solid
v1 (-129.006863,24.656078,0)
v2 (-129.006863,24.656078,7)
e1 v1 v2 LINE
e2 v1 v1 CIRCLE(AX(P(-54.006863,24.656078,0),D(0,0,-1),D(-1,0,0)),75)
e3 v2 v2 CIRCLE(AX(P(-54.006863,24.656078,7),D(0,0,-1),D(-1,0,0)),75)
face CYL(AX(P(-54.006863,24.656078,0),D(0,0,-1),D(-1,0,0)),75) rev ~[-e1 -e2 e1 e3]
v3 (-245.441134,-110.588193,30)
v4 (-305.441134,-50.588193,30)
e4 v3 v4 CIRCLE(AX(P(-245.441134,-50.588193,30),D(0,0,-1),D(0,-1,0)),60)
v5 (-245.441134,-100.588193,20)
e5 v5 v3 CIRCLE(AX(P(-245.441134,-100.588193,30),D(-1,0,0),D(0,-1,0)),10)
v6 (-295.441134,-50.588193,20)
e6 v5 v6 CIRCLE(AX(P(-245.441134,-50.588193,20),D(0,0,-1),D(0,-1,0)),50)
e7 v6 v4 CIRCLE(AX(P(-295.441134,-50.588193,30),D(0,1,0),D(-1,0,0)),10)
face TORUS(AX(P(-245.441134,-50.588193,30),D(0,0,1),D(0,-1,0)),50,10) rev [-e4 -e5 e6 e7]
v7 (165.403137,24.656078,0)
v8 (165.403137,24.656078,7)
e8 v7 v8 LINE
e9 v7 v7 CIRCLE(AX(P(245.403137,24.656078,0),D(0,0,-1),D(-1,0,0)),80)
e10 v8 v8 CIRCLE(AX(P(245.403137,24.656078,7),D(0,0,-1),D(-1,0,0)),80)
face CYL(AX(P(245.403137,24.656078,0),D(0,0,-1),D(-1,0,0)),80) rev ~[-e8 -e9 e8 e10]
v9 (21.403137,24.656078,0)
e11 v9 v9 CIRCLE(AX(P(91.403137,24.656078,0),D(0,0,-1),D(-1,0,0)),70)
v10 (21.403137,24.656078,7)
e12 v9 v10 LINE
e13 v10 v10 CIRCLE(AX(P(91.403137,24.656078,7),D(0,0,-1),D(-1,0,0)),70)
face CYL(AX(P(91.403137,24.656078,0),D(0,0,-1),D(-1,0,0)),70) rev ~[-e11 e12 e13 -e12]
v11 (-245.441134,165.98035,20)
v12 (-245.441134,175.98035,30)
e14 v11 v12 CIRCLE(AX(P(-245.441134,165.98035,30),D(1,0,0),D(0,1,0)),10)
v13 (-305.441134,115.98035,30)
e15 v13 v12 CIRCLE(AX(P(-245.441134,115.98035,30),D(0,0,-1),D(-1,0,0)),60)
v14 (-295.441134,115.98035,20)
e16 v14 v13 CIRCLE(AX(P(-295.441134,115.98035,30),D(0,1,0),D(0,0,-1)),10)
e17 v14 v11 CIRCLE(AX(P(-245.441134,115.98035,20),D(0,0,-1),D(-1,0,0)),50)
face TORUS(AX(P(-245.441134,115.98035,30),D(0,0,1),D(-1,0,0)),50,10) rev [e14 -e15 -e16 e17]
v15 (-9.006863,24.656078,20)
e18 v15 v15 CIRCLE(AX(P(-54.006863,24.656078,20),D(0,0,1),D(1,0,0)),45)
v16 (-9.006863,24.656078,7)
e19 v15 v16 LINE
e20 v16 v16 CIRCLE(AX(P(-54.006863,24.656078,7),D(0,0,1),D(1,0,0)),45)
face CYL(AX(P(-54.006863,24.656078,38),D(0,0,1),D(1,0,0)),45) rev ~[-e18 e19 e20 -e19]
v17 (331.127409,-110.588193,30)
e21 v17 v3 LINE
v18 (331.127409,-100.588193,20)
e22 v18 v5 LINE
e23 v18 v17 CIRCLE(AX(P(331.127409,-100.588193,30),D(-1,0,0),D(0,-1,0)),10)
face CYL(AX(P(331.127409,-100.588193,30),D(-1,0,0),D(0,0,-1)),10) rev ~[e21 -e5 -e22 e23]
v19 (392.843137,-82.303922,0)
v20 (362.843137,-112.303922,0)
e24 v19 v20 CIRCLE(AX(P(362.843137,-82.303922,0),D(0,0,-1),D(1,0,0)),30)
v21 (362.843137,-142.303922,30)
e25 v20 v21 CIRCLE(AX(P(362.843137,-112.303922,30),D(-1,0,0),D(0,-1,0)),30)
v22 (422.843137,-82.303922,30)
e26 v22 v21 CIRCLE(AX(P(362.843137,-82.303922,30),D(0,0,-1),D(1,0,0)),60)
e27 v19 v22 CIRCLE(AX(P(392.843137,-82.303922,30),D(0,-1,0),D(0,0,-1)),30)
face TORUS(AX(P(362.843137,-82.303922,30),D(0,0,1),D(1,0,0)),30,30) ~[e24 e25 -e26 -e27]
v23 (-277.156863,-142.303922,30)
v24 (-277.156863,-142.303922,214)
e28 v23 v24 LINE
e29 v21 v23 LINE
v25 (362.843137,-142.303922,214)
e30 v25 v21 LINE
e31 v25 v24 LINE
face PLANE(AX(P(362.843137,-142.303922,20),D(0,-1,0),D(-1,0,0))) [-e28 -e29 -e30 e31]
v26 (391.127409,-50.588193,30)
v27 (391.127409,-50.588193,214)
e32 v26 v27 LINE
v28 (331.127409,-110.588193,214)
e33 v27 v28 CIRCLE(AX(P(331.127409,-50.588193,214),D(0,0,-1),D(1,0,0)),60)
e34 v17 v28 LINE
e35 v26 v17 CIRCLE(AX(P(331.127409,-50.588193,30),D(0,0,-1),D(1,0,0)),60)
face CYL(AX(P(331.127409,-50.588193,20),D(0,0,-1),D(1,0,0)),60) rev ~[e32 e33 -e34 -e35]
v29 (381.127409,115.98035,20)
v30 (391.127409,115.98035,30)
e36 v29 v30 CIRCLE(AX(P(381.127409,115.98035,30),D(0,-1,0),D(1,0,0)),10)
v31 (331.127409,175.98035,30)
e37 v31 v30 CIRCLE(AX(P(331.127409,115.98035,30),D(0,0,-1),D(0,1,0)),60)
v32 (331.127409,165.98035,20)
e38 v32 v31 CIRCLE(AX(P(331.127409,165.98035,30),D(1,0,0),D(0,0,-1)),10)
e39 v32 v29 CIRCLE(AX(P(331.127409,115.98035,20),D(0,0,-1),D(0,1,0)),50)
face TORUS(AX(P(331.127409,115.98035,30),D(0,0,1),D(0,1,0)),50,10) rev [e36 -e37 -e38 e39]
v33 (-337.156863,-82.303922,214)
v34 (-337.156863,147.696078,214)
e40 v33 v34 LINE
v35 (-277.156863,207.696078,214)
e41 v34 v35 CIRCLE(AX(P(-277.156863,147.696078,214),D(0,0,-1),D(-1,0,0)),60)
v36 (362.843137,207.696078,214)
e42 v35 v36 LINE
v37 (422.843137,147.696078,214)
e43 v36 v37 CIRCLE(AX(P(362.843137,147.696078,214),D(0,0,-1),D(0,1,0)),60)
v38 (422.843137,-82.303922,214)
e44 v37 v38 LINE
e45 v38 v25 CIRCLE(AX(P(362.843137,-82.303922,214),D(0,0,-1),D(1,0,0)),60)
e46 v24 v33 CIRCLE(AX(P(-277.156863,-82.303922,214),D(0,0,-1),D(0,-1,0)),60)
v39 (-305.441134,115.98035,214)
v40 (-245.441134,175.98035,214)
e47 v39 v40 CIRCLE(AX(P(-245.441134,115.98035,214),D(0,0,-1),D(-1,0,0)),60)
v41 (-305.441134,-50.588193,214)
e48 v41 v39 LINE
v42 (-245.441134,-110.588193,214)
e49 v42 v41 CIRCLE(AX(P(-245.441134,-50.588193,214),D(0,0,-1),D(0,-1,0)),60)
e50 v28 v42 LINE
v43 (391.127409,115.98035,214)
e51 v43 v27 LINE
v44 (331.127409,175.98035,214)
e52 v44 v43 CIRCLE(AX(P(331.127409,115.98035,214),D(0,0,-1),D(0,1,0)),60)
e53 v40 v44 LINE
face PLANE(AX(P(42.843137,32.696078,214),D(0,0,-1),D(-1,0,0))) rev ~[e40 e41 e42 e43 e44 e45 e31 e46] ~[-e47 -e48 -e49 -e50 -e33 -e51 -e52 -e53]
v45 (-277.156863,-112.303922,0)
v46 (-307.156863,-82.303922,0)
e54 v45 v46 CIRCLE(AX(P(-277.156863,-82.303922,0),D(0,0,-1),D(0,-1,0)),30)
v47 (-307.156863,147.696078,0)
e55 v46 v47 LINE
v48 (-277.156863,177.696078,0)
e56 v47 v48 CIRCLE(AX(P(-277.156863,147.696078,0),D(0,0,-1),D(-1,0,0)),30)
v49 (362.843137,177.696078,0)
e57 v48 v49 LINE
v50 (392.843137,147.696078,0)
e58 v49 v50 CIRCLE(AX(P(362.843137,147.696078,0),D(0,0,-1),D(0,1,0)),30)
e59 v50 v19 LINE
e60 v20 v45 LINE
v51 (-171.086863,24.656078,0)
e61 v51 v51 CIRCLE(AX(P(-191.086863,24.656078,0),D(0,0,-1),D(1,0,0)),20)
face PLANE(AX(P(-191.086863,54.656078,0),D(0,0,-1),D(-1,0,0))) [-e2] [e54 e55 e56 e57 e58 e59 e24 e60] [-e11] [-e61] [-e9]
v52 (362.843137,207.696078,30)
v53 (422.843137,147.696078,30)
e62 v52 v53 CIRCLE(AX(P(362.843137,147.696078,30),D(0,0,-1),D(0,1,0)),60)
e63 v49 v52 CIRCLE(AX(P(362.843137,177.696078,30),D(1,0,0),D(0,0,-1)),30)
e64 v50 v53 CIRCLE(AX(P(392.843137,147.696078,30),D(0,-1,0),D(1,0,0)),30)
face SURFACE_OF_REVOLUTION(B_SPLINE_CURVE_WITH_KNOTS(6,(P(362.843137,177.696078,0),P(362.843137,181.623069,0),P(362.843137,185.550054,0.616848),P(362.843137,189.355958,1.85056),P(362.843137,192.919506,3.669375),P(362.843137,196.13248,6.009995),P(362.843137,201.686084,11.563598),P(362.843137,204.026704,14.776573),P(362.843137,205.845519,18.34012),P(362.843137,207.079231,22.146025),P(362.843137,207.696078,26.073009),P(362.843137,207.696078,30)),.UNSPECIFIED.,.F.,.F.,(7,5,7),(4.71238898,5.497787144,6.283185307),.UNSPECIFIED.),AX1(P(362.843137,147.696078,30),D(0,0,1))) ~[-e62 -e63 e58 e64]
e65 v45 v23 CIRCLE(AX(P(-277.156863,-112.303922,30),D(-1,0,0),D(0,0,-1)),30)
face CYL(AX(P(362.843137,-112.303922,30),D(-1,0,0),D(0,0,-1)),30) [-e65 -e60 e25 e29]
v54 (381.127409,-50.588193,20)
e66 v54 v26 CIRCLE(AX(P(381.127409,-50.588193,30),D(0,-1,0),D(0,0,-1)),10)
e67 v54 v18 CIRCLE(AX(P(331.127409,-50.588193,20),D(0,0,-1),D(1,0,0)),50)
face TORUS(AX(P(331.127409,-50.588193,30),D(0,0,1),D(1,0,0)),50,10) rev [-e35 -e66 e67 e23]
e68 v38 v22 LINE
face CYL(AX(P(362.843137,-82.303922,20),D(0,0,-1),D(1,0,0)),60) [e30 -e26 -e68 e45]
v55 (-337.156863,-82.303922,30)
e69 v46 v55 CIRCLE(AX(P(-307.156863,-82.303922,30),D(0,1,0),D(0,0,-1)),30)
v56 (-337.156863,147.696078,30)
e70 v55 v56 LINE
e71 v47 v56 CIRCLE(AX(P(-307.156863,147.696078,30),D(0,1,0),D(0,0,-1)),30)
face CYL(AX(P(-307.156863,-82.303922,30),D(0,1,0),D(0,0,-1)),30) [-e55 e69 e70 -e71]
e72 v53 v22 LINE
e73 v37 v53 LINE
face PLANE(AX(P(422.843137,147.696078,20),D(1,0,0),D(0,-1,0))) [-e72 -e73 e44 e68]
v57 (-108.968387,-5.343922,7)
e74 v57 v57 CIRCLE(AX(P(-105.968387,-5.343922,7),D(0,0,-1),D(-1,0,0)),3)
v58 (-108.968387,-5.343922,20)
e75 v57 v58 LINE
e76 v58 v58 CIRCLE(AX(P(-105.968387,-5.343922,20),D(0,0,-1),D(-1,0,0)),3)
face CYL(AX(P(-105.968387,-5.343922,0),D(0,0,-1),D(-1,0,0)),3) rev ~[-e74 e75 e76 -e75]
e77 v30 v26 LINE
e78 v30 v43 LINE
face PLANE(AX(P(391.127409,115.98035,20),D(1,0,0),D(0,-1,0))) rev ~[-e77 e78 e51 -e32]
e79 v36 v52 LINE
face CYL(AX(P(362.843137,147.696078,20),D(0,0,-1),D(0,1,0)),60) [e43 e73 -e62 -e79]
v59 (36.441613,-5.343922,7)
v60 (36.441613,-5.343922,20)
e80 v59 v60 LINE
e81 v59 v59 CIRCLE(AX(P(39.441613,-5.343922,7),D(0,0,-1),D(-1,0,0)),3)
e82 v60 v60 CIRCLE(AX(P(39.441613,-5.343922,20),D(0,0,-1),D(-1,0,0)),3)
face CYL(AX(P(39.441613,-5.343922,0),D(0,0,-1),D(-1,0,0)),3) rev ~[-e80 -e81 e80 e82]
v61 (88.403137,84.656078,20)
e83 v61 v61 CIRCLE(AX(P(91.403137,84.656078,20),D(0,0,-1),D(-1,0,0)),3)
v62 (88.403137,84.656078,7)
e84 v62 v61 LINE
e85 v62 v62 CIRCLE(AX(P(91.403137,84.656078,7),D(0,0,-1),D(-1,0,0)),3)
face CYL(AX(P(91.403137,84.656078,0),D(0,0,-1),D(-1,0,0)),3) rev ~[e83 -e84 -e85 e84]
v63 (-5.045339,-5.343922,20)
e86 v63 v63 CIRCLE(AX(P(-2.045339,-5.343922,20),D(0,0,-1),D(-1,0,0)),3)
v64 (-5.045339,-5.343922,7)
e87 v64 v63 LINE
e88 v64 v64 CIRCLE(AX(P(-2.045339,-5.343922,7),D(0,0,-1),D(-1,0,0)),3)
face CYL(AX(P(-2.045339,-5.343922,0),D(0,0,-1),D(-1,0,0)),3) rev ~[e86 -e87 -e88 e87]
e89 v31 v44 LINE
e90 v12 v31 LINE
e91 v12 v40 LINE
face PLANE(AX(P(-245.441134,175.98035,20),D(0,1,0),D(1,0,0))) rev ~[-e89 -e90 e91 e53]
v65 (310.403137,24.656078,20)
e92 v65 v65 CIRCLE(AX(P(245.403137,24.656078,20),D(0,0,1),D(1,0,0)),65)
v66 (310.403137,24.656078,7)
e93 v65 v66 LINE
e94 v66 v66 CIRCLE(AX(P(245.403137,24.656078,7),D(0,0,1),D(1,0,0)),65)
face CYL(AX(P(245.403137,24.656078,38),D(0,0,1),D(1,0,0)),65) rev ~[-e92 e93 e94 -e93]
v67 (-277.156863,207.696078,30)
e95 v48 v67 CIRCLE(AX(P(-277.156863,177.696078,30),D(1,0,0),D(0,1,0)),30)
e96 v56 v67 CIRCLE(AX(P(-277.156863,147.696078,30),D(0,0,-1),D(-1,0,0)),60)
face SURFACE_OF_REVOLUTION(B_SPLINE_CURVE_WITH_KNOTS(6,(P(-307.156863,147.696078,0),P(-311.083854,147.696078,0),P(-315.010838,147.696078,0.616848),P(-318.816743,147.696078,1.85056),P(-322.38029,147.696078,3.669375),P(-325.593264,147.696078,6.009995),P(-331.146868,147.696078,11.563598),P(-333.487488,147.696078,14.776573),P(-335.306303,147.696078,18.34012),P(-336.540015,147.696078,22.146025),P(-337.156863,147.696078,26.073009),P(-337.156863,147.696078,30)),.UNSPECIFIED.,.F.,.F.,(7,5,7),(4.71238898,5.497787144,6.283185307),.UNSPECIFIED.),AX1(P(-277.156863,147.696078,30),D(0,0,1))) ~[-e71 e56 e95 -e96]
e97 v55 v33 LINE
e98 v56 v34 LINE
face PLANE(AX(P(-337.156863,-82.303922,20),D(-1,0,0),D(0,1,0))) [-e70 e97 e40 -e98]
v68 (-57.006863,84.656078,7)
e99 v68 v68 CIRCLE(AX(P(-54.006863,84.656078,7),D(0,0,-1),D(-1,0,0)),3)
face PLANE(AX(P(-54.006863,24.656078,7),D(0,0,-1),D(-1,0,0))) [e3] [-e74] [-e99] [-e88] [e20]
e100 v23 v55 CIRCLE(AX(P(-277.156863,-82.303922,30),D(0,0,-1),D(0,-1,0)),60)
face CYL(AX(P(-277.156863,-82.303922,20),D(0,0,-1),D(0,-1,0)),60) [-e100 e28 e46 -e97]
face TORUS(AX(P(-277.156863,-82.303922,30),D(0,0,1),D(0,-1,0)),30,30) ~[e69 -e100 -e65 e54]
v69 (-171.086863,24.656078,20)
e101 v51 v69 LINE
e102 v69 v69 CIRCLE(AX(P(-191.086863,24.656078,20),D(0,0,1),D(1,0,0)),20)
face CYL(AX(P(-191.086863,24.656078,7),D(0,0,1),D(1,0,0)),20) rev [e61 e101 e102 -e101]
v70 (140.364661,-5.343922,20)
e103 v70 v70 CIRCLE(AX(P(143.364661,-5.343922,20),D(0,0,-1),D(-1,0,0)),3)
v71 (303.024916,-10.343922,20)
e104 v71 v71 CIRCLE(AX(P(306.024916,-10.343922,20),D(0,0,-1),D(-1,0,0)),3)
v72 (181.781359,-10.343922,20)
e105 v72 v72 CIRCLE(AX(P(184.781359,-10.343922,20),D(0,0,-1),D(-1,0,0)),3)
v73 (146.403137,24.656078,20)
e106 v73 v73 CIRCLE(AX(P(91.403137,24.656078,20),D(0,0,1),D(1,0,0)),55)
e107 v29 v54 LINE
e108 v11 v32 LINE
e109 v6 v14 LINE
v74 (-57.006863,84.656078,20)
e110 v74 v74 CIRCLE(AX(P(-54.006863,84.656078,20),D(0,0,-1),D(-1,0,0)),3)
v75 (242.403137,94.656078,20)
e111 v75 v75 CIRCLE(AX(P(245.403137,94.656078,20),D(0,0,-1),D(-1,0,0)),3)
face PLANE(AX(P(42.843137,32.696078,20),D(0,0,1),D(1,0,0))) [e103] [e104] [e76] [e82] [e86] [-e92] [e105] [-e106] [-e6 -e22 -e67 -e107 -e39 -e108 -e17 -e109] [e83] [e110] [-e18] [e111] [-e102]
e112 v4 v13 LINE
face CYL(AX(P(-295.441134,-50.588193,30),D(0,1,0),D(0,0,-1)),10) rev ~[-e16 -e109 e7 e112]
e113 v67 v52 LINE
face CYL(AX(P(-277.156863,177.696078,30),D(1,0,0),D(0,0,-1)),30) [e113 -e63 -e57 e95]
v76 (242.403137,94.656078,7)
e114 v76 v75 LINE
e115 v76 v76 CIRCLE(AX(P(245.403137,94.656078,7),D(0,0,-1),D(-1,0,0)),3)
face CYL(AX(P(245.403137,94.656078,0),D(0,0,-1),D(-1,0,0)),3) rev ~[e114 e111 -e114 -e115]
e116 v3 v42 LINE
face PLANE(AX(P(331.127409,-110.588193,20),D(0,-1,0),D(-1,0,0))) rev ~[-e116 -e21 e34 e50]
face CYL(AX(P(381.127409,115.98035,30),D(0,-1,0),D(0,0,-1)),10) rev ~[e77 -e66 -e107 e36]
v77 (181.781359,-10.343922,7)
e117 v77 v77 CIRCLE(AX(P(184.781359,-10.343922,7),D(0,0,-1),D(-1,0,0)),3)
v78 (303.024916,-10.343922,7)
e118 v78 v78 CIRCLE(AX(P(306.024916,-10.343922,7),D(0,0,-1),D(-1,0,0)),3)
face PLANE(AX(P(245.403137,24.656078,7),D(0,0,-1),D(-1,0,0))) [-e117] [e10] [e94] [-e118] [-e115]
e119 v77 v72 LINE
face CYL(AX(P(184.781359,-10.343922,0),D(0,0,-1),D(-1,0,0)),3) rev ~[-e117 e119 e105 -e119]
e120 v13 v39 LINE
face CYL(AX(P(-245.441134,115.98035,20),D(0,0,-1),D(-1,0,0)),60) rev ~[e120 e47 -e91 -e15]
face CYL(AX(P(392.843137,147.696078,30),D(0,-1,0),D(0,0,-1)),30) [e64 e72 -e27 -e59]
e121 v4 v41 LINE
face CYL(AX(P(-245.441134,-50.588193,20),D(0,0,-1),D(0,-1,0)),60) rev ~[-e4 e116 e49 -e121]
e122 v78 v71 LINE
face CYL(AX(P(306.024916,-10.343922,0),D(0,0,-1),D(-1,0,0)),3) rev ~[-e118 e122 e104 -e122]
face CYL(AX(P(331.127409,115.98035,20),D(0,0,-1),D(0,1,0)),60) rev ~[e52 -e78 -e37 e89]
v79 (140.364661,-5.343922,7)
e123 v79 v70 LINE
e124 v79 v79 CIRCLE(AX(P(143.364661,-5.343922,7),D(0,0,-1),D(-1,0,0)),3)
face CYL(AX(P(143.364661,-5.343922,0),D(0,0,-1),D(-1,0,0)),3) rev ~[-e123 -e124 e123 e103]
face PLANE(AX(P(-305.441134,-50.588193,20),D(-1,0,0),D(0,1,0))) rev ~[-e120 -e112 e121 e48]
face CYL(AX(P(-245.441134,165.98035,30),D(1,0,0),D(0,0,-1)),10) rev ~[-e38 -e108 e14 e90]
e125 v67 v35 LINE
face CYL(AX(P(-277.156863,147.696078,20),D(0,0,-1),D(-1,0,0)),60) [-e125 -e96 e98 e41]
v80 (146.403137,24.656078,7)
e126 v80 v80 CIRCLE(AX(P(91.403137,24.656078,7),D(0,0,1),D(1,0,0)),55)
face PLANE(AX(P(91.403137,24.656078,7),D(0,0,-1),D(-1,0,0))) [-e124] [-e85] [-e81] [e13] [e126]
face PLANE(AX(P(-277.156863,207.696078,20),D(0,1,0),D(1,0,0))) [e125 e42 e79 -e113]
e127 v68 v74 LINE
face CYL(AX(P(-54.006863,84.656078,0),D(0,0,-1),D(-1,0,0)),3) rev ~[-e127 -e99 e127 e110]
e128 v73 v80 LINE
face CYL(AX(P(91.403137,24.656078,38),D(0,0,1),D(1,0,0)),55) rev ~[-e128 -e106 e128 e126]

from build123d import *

# Parameters (mm, degrees)
SKETCH1_W                = 760
SKETCH1_H                = 350
BOSS_EXTRUDE1_DEPTH      = 38
SKETCH2_R                = 65
SKETCH2_R_2              = 55
SKETCH2_R_3              = 45
CUT_EXTRUDE1_DEPTH       = 473.628796964
CUT_EXTRUDE3_DEPTH       = 473.628796964
SKETCH5_R                = 75
SKETCH5_R_2              = 3
SKETCH5_R_3              = 70
SKETCH5_R_4              = 40
CUT_EXTRUDE7_DEPTH       = 7
SKETCH7_R                = 3
CUT_EXTRUDE8_DEPTH       = 473.628796964
SKETCH8_W                = 760
SKETCH8_H                = 350
CUT_EXTRUDE9_DEPTH       = 18
SKETCH9_OUTSIDE_W        = 929.392
SKETCH9_OUTSIDE_H        = 519.392
CUT_EXTRUDE10_DEPTH      = 472.523042618
BOSS_EXTRUDE2_DEPTH      = 194
FILLET1_R                = 10
SKETCH12_R               = 40
SKETCH12_R_2             = 20
SKETCH12_R_3             = 3
BOSS_EXTRUDE4_DEPTH      = 7
BOSS_EXTRUDE4_DEPTH_BACK = 2
SKETCH13_R               = 3
BOSS_EXTRUDE8_DEPTH      = 20
SKETCH11_R               = 80
SKETCH11_R_2             = 3
CUT_EXTRUDE11_DEPTH      = 7
SKETCH15_R               = 3
CUT_EXTRUDE12_DEPTH      = 518.42630366
FILLET2_R                = 30


with BuildPart() as part:
    # Sketch1 → Boss-Extrude1 (new body)
    with BuildSketch(Plane.XY):
        with Locations((42.843137255, 32.696078431)):
            Rectangle(SKETCH1_W, SKETCH1_H)
    extrude(amount=BOSS_EXTRUDE1_DEPTH)

    # Sketch2 → Cut-Extrude1 (cut, through all)
    with BuildSketch(Plane.XY.offset(38)):
        with Locations((245.403137255, 24.656078431)):
            Circle(SKETCH2_R)
        with Locations((91.403137255, 24.656078431)):
            Circle(SKETCH2_R_2)
        with Locations((-54.006862745, 24.656078431)):
            Circle(SKETCH2_R_3)
    extrude(amount=-CUT_EXTRUDE1_DEPTH, mode=Mode.SUBTRACT)

    # Sketch3 → Cut-Extrude3 (cut, through all)
    with BuildSketch(Plane.XY.offset(38)):
        with BuildLine():
            ThreePointArc((-211.086862745, 24.656078431), (-191.086862745, 4.656078431), (-171.086862745, 24.656078431))
            Line((-171.086862745, 24.656078431), (-191.086862745, 24.656078431))
            Line((-191.086862745, 24.656078431), (-211.086862745, 24.656078431))
        make_face()
        with BuildLine():
            Line((-191.086862745, 24.656078431), (-171.086862745, 24.656078431))
            ThreePointArc((-171.086862745, 24.656078431), (-191.086862745, 44.656078431), (-211.086862745, 24.656078431))
            Line((-211.086862745, 24.656078431), (-191.086862745, 24.656078431))
        make_face()
    extrude(amount=-CUT_EXTRUDE3_DEPTH, mode=Mode.SUBTRACT)

    # Sketch5 → Cut-Extrude7 (cut)
    with BuildSketch(Plane(origin=(0, 0, 0), x_dir=(-1, 0, 0), z_dir=(0, 0, -1))):
        with Locations((54.006862745, 24.656078431)):
            Circle(SKETCH5_R)
        with Locations((54.006862745, 84.656078431)):
            Circle(SKETCH5_R_2, mode=Mode.SUBTRACT)
        with Locations((105.968386972, -5.343921569)):
            Circle(SKETCH5_R_2, mode=Mode.SUBTRACT)
        with Locations((2.045338518, -5.343921569)):
            Circle(SKETCH5_R_2, mode=Mode.SUBTRACT)
        with Locations((-91.403137255, 24.656078431)):
            Circle(SKETCH5_R_3)
        with Locations((-91.403137255, 84.656078431)):
            Circle(SKETCH5_R_2, mode=Mode.SUBTRACT)
        with Locations((-39.441613028, -5.343921569)):
            Circle(SKETCH5_R_2, mode=Mode.SUBTRACT)
        with Locations((-143.364661482, -5.343921569)):
            Circle(SKETCH5_R_2, mode=Mode.SUBTRACT)
        with Locations((191.086862745, 24.656078431)):
            Circle(SKETCH5_R_4)
        with Locations((191.086862745, 54.656078431)):
            Circle(SKETCH5_R_2, mode=Mode.SUBTRACT)
        with Locations((217.067624859, 9.656078431)):
            Circle(SKETCH5_R_2, mode=Mode.SUBTRACT)
        with Locations((165.106100632, 9.656078431)):
            Circle(SKETCH5_R_2, mode=Mode.SUBTRACT)
    extrude(amount=-CUT_EXTRUDE7_DEPTH, mode=Mode.SUBTRACT)

    # Sketch7 → Cut-Extrude8 (cut, through all)
    with BuildSketch(Plane(origin=(0, 0, 0), x_dir=(-1, 0, 0), z_dir=(0, 0, -1))):
        with Locations((-91.403137255, 84.656078431)):
            Circle(SKETCH7_R)
        with Locations((-143.364661482, -5.343921569)):
            Circle(SKETCH7_R)
        with Locations((-39.441613028, -5.343921569)):
            Circle(SKETCH7_R)
        with Locations((2.045338518, -5.343921569)):
            Circle(SKETCH7_R)
        with Locations((54.006862745, 84.656078431)):
            Circle(SKETCH7_R)
        with Locations((105.968386972, -5.343921569)):
            Circle(SKETCH7_R)
        with Locations((191.086862745, 54.656078431)):
            Circle(SKETCH7_R)
        with Locations((165.106100632, 9.656078431)):
            Circle(SKETCH7_R)
        with Locations((217.067624859, 9.656078431)):
            Circle(SKETCH7_R)
    extrude(amount=-CUT_EXTRUDE8_DEPTH, mode=Mode.SUBTRACT)

    # Sketch8 → Cut-Extrude9 (cut)
    with BuildSketch(Plane.XY.offset(38)):
        with Locations((42.843137255, 32.696078431)):
            Rectangle(SKETCH8_W, SKETCH8_H)
    extrude(amount=-CUT_EXTRUDE9_DEPTH, mode=Mode.SUBTRACT)

    # Sketch9 outside → Cut-Extrude10 (cut, through all)
    with BuildSketch(Plane.XY.offset(20)):
        with Locations((42.843, 32.696)):
            Rectangle(SKETCH9_OUTSIDE_W, SKETCH9_OUTSIDE_H)
        with BuildLine():
            Line((-277.156862745, 207.696078431), (362.843137255, 207.696078431))
            ThreePointArc((362.843137255, 207.696078431), (405.269544126, 190.122485303), (422.843137255, 147.696078431))
            Line((422.843137255, 147.696078431), (422.843137255, -82.303921569))
            ThreePointArc((422.843137255, -82.303921569), (405.269544126, -124.73032844), (362.843137255, -142.303921569))
            Line((362.843137255, -142.303921569), (-277.156862745, -142.303921569))
            ThreePointArc((-277.156862745, -142.303921569), (-319.583269616, -124.73032844), (-337.156862745, -82.303921569))
            Line((-337.156862745, -82.303921569), (-337.156862745, 147.696078431))
            ThreePointArc((-337.156862745, 147.696078431), (-319.583269616, 190.122485303), (-277.156862745, 207.696078431))
        make_face(mode=Mode.SUBTRACT)
    extrude(amount=-CUT_EXTRUDE10_DEPTH, mode=Mode.SUBTRACT)

    # Sketch10 → Boss-Extrude2 (add)
    with BuildSketch(Plane.XY.offset(20)):
        with BuildLine():
            Line((-277.156862745, 207.696078431), (362.843137255, 207.696078431))
            ThreePointArc((362.843137255, 207.696078431), (405.269544126, 190.122485303), (422.843137255, 147.696078431))
            Line((422.843137255, 147.696078431), (422.843137255, -82.303921569))
            ThreePointArc((422.843137255, -82.303921569), (405.269544126, -124.73032844), (362.843137255, -142.303921569))
            Line((362.843137255, -142.303921569), (-277.156862745, -142.303921569))
            ThreePointArc((-277.156862745, -142.303921569), (-319.583269616, -124.73032844), (-337.156862745, -82.303921569))
            Line((-337.156862745, -82.303921569), (-337.156862745, 147.696078431))
            ThreePointArc((-337.156862745, 147.696078431), (-319.583269616, 190.122485303), (-277.156862745, 207.696078431))
        make_face()
        with BuildLine():
            Line((-245.441133993, 175.980349679), (331.127408502, 175.980349679))
            ThreePointArc((331.127408502, 175.980349679), (373.553815374, 158.40675655), (391.127408502, 115.980349679))
            Line((391.127408502, 115.980349679), (391.127408502, -50.588192816))
            ThreePointArc((391.127408502, -50.588192816), (373.553815374, -93.014599687), (331.127408502, -110.588192816))
            Line((331.127408502, -110.588192816), (-245.441133993, -110.588192816))
            ThreePointArc((-245.441133993, -110.588192816), (-287.867540864, -93.014599687), (-305.441133993, -50.588192816))
            Line((-305.441133993, -50.588192816), (-305.441133993, 115.980349679))
            ThreePointArc((-305.441133993, 115.980349679), (-287.867540864, 158.40675655), (-245.441133993, 175.980349679))
        make_face(mode=Mode.SUBTRACT)
    extrude(amount=BOSS_EXTRUDE2_DEPTH)

    # Fillet1
    fillet1_edges = [part.edges().sort_by_distance(p)[0] for p in [
        (-287.867540864, -93.014599687, 20),
        (42.843137255, -110.588192816, 20),
        (373.553815374, -93.014599687, 20),
        (391.127408502, 32.696078431, 20),
        (373.553815374, 158.40675655, 20),
        (42.843137255, 175.980349679, 20),
        (-287.867540864, 158.40675655, 20),
        (-305.441133993, 32.696078431, 20),
    ]]
    fillet(fillet1_edges, radius=FILLET1_R)

    # Sketch12 → Boss-Extrude4 (add, two sides)
    with BuildSketch(Plane(origin=(0, 0, 7), x_dir=(-1, 0, 0), z_dir=(0, 0, -1))) as boss_extrude4_sk:
        with Locations((191.086862745, 24.656078431)):
            Circle(SKETCH12_R)
        with Locations(Location((191.086862745, 24.656078431, 0), (0, 0, 180))):
            Circle(SKETCH12_R_2, mode=Mode.SUBTRACT)
        with Locations((191.086862745, 54.656078431)):
            Circle(SKETCH12_R_3, mode=Mode.SUBTRACT)
        with Locations((165.106100632, 9.656078431)):
            Circle(SKETCH12_R_3, mode=Mode.SUBTRACT)
        with Locations((217.067624859, 9.656078431)):
            Circle(SKETCH12_R_3, mode=Mode.SUBTRACT)
    extrude(amount=BOSS_EXTRUDE4_DEPTH)
    extrude(boss_extrude4_sk.sketch, amount=-BOSS_EXTRUDE4_DEPTH_BACK)

    # Sketch13 → Boss-Extrude8 (add)
    with BuildSketch(Plane(origin=(0, 0, 0), x_dir=(-1, 0, 0), z_dir=(0, 0, -1))):
        with Locations((191.086862745, 54.656078431)):
            Circle(SKETCH13_R)
        with Locations((217.067624859, 9.656078431)):
            Circle(SKETCH13_R)
        with Locations((165.106100632, 9.656078431)):
            Circle(SKETCH13_R)
    extrude(amount=-BOSS_EXTRUDE8_DEPTH)

    # Sketch11 → Cut-Extrude11 (cut)
    with BuildSketch(Plane(origin=(0, 0, 0), x_dir=(-1, 0, 0), z_dir=(0, 0, -1))):
        with Locations((-245.403137255, 24.656078431)):
            Circle(SKETCH11_R)
        with Locations((-245.403137255, 94.656078431)):
            Circle(SKETCH11_R_2, mode=Mode.SUBTRACT)
        with Locations((-184.78135899, -10.343921569)):
            Circle(SKETCH11_R_2, mode=Mode.SUBTRACT)
        with Locations((-306.02491552, -10.343921569)):
            Circle(SKETCH11_R_2, mode=Mode.SUBTRACT)
    extrude(amount=-CUT_EXTRUDE11_DEPTH, mode=Mode.SUBTRACT)

    # Sketch15 → Cut-Extrude12 (cut, through all)
    with BuildSketch(Plane(origin=(0, 0, 0), x_dir=(-1, 0, 0), z_dir=(0, 0, -1))):
        with Locations((-245.403137255, 94.656078431)):
            Circle(SKETCH15_R)
        with Locations((-306.02491552, -10.343921569)):
            Circle(SKETCH15_R)
        with Locations((-184.78135899, -10.343921569)):
            Circle(SKETCH15_R)
    extrude(amount=-CUT_EXTRUDE12_DEPTH, mode=Mode.SUBTRACT)

    # Fillet2
    fillet2_edges = [part.edges().sort_by_distance(p)[0] for p in [
        (-337.156862745, 32.696078431, 0),
        (42.843137255, 207.696078431, 0),
        (422.843137255, 32.696078431, 0),
        (42.843137255, -142.303921569, 0),
        (-319.583269616, -124.73032844, 0),
        (405.269544126, -124.73032844, 0),
        (405.269544126, 190.122485303, 0),
        (-319.583269616, 190.122485303, 0),
    ]]
    fillet(fillet2_edges, radius=FILLET2_R)


solid = part.part
